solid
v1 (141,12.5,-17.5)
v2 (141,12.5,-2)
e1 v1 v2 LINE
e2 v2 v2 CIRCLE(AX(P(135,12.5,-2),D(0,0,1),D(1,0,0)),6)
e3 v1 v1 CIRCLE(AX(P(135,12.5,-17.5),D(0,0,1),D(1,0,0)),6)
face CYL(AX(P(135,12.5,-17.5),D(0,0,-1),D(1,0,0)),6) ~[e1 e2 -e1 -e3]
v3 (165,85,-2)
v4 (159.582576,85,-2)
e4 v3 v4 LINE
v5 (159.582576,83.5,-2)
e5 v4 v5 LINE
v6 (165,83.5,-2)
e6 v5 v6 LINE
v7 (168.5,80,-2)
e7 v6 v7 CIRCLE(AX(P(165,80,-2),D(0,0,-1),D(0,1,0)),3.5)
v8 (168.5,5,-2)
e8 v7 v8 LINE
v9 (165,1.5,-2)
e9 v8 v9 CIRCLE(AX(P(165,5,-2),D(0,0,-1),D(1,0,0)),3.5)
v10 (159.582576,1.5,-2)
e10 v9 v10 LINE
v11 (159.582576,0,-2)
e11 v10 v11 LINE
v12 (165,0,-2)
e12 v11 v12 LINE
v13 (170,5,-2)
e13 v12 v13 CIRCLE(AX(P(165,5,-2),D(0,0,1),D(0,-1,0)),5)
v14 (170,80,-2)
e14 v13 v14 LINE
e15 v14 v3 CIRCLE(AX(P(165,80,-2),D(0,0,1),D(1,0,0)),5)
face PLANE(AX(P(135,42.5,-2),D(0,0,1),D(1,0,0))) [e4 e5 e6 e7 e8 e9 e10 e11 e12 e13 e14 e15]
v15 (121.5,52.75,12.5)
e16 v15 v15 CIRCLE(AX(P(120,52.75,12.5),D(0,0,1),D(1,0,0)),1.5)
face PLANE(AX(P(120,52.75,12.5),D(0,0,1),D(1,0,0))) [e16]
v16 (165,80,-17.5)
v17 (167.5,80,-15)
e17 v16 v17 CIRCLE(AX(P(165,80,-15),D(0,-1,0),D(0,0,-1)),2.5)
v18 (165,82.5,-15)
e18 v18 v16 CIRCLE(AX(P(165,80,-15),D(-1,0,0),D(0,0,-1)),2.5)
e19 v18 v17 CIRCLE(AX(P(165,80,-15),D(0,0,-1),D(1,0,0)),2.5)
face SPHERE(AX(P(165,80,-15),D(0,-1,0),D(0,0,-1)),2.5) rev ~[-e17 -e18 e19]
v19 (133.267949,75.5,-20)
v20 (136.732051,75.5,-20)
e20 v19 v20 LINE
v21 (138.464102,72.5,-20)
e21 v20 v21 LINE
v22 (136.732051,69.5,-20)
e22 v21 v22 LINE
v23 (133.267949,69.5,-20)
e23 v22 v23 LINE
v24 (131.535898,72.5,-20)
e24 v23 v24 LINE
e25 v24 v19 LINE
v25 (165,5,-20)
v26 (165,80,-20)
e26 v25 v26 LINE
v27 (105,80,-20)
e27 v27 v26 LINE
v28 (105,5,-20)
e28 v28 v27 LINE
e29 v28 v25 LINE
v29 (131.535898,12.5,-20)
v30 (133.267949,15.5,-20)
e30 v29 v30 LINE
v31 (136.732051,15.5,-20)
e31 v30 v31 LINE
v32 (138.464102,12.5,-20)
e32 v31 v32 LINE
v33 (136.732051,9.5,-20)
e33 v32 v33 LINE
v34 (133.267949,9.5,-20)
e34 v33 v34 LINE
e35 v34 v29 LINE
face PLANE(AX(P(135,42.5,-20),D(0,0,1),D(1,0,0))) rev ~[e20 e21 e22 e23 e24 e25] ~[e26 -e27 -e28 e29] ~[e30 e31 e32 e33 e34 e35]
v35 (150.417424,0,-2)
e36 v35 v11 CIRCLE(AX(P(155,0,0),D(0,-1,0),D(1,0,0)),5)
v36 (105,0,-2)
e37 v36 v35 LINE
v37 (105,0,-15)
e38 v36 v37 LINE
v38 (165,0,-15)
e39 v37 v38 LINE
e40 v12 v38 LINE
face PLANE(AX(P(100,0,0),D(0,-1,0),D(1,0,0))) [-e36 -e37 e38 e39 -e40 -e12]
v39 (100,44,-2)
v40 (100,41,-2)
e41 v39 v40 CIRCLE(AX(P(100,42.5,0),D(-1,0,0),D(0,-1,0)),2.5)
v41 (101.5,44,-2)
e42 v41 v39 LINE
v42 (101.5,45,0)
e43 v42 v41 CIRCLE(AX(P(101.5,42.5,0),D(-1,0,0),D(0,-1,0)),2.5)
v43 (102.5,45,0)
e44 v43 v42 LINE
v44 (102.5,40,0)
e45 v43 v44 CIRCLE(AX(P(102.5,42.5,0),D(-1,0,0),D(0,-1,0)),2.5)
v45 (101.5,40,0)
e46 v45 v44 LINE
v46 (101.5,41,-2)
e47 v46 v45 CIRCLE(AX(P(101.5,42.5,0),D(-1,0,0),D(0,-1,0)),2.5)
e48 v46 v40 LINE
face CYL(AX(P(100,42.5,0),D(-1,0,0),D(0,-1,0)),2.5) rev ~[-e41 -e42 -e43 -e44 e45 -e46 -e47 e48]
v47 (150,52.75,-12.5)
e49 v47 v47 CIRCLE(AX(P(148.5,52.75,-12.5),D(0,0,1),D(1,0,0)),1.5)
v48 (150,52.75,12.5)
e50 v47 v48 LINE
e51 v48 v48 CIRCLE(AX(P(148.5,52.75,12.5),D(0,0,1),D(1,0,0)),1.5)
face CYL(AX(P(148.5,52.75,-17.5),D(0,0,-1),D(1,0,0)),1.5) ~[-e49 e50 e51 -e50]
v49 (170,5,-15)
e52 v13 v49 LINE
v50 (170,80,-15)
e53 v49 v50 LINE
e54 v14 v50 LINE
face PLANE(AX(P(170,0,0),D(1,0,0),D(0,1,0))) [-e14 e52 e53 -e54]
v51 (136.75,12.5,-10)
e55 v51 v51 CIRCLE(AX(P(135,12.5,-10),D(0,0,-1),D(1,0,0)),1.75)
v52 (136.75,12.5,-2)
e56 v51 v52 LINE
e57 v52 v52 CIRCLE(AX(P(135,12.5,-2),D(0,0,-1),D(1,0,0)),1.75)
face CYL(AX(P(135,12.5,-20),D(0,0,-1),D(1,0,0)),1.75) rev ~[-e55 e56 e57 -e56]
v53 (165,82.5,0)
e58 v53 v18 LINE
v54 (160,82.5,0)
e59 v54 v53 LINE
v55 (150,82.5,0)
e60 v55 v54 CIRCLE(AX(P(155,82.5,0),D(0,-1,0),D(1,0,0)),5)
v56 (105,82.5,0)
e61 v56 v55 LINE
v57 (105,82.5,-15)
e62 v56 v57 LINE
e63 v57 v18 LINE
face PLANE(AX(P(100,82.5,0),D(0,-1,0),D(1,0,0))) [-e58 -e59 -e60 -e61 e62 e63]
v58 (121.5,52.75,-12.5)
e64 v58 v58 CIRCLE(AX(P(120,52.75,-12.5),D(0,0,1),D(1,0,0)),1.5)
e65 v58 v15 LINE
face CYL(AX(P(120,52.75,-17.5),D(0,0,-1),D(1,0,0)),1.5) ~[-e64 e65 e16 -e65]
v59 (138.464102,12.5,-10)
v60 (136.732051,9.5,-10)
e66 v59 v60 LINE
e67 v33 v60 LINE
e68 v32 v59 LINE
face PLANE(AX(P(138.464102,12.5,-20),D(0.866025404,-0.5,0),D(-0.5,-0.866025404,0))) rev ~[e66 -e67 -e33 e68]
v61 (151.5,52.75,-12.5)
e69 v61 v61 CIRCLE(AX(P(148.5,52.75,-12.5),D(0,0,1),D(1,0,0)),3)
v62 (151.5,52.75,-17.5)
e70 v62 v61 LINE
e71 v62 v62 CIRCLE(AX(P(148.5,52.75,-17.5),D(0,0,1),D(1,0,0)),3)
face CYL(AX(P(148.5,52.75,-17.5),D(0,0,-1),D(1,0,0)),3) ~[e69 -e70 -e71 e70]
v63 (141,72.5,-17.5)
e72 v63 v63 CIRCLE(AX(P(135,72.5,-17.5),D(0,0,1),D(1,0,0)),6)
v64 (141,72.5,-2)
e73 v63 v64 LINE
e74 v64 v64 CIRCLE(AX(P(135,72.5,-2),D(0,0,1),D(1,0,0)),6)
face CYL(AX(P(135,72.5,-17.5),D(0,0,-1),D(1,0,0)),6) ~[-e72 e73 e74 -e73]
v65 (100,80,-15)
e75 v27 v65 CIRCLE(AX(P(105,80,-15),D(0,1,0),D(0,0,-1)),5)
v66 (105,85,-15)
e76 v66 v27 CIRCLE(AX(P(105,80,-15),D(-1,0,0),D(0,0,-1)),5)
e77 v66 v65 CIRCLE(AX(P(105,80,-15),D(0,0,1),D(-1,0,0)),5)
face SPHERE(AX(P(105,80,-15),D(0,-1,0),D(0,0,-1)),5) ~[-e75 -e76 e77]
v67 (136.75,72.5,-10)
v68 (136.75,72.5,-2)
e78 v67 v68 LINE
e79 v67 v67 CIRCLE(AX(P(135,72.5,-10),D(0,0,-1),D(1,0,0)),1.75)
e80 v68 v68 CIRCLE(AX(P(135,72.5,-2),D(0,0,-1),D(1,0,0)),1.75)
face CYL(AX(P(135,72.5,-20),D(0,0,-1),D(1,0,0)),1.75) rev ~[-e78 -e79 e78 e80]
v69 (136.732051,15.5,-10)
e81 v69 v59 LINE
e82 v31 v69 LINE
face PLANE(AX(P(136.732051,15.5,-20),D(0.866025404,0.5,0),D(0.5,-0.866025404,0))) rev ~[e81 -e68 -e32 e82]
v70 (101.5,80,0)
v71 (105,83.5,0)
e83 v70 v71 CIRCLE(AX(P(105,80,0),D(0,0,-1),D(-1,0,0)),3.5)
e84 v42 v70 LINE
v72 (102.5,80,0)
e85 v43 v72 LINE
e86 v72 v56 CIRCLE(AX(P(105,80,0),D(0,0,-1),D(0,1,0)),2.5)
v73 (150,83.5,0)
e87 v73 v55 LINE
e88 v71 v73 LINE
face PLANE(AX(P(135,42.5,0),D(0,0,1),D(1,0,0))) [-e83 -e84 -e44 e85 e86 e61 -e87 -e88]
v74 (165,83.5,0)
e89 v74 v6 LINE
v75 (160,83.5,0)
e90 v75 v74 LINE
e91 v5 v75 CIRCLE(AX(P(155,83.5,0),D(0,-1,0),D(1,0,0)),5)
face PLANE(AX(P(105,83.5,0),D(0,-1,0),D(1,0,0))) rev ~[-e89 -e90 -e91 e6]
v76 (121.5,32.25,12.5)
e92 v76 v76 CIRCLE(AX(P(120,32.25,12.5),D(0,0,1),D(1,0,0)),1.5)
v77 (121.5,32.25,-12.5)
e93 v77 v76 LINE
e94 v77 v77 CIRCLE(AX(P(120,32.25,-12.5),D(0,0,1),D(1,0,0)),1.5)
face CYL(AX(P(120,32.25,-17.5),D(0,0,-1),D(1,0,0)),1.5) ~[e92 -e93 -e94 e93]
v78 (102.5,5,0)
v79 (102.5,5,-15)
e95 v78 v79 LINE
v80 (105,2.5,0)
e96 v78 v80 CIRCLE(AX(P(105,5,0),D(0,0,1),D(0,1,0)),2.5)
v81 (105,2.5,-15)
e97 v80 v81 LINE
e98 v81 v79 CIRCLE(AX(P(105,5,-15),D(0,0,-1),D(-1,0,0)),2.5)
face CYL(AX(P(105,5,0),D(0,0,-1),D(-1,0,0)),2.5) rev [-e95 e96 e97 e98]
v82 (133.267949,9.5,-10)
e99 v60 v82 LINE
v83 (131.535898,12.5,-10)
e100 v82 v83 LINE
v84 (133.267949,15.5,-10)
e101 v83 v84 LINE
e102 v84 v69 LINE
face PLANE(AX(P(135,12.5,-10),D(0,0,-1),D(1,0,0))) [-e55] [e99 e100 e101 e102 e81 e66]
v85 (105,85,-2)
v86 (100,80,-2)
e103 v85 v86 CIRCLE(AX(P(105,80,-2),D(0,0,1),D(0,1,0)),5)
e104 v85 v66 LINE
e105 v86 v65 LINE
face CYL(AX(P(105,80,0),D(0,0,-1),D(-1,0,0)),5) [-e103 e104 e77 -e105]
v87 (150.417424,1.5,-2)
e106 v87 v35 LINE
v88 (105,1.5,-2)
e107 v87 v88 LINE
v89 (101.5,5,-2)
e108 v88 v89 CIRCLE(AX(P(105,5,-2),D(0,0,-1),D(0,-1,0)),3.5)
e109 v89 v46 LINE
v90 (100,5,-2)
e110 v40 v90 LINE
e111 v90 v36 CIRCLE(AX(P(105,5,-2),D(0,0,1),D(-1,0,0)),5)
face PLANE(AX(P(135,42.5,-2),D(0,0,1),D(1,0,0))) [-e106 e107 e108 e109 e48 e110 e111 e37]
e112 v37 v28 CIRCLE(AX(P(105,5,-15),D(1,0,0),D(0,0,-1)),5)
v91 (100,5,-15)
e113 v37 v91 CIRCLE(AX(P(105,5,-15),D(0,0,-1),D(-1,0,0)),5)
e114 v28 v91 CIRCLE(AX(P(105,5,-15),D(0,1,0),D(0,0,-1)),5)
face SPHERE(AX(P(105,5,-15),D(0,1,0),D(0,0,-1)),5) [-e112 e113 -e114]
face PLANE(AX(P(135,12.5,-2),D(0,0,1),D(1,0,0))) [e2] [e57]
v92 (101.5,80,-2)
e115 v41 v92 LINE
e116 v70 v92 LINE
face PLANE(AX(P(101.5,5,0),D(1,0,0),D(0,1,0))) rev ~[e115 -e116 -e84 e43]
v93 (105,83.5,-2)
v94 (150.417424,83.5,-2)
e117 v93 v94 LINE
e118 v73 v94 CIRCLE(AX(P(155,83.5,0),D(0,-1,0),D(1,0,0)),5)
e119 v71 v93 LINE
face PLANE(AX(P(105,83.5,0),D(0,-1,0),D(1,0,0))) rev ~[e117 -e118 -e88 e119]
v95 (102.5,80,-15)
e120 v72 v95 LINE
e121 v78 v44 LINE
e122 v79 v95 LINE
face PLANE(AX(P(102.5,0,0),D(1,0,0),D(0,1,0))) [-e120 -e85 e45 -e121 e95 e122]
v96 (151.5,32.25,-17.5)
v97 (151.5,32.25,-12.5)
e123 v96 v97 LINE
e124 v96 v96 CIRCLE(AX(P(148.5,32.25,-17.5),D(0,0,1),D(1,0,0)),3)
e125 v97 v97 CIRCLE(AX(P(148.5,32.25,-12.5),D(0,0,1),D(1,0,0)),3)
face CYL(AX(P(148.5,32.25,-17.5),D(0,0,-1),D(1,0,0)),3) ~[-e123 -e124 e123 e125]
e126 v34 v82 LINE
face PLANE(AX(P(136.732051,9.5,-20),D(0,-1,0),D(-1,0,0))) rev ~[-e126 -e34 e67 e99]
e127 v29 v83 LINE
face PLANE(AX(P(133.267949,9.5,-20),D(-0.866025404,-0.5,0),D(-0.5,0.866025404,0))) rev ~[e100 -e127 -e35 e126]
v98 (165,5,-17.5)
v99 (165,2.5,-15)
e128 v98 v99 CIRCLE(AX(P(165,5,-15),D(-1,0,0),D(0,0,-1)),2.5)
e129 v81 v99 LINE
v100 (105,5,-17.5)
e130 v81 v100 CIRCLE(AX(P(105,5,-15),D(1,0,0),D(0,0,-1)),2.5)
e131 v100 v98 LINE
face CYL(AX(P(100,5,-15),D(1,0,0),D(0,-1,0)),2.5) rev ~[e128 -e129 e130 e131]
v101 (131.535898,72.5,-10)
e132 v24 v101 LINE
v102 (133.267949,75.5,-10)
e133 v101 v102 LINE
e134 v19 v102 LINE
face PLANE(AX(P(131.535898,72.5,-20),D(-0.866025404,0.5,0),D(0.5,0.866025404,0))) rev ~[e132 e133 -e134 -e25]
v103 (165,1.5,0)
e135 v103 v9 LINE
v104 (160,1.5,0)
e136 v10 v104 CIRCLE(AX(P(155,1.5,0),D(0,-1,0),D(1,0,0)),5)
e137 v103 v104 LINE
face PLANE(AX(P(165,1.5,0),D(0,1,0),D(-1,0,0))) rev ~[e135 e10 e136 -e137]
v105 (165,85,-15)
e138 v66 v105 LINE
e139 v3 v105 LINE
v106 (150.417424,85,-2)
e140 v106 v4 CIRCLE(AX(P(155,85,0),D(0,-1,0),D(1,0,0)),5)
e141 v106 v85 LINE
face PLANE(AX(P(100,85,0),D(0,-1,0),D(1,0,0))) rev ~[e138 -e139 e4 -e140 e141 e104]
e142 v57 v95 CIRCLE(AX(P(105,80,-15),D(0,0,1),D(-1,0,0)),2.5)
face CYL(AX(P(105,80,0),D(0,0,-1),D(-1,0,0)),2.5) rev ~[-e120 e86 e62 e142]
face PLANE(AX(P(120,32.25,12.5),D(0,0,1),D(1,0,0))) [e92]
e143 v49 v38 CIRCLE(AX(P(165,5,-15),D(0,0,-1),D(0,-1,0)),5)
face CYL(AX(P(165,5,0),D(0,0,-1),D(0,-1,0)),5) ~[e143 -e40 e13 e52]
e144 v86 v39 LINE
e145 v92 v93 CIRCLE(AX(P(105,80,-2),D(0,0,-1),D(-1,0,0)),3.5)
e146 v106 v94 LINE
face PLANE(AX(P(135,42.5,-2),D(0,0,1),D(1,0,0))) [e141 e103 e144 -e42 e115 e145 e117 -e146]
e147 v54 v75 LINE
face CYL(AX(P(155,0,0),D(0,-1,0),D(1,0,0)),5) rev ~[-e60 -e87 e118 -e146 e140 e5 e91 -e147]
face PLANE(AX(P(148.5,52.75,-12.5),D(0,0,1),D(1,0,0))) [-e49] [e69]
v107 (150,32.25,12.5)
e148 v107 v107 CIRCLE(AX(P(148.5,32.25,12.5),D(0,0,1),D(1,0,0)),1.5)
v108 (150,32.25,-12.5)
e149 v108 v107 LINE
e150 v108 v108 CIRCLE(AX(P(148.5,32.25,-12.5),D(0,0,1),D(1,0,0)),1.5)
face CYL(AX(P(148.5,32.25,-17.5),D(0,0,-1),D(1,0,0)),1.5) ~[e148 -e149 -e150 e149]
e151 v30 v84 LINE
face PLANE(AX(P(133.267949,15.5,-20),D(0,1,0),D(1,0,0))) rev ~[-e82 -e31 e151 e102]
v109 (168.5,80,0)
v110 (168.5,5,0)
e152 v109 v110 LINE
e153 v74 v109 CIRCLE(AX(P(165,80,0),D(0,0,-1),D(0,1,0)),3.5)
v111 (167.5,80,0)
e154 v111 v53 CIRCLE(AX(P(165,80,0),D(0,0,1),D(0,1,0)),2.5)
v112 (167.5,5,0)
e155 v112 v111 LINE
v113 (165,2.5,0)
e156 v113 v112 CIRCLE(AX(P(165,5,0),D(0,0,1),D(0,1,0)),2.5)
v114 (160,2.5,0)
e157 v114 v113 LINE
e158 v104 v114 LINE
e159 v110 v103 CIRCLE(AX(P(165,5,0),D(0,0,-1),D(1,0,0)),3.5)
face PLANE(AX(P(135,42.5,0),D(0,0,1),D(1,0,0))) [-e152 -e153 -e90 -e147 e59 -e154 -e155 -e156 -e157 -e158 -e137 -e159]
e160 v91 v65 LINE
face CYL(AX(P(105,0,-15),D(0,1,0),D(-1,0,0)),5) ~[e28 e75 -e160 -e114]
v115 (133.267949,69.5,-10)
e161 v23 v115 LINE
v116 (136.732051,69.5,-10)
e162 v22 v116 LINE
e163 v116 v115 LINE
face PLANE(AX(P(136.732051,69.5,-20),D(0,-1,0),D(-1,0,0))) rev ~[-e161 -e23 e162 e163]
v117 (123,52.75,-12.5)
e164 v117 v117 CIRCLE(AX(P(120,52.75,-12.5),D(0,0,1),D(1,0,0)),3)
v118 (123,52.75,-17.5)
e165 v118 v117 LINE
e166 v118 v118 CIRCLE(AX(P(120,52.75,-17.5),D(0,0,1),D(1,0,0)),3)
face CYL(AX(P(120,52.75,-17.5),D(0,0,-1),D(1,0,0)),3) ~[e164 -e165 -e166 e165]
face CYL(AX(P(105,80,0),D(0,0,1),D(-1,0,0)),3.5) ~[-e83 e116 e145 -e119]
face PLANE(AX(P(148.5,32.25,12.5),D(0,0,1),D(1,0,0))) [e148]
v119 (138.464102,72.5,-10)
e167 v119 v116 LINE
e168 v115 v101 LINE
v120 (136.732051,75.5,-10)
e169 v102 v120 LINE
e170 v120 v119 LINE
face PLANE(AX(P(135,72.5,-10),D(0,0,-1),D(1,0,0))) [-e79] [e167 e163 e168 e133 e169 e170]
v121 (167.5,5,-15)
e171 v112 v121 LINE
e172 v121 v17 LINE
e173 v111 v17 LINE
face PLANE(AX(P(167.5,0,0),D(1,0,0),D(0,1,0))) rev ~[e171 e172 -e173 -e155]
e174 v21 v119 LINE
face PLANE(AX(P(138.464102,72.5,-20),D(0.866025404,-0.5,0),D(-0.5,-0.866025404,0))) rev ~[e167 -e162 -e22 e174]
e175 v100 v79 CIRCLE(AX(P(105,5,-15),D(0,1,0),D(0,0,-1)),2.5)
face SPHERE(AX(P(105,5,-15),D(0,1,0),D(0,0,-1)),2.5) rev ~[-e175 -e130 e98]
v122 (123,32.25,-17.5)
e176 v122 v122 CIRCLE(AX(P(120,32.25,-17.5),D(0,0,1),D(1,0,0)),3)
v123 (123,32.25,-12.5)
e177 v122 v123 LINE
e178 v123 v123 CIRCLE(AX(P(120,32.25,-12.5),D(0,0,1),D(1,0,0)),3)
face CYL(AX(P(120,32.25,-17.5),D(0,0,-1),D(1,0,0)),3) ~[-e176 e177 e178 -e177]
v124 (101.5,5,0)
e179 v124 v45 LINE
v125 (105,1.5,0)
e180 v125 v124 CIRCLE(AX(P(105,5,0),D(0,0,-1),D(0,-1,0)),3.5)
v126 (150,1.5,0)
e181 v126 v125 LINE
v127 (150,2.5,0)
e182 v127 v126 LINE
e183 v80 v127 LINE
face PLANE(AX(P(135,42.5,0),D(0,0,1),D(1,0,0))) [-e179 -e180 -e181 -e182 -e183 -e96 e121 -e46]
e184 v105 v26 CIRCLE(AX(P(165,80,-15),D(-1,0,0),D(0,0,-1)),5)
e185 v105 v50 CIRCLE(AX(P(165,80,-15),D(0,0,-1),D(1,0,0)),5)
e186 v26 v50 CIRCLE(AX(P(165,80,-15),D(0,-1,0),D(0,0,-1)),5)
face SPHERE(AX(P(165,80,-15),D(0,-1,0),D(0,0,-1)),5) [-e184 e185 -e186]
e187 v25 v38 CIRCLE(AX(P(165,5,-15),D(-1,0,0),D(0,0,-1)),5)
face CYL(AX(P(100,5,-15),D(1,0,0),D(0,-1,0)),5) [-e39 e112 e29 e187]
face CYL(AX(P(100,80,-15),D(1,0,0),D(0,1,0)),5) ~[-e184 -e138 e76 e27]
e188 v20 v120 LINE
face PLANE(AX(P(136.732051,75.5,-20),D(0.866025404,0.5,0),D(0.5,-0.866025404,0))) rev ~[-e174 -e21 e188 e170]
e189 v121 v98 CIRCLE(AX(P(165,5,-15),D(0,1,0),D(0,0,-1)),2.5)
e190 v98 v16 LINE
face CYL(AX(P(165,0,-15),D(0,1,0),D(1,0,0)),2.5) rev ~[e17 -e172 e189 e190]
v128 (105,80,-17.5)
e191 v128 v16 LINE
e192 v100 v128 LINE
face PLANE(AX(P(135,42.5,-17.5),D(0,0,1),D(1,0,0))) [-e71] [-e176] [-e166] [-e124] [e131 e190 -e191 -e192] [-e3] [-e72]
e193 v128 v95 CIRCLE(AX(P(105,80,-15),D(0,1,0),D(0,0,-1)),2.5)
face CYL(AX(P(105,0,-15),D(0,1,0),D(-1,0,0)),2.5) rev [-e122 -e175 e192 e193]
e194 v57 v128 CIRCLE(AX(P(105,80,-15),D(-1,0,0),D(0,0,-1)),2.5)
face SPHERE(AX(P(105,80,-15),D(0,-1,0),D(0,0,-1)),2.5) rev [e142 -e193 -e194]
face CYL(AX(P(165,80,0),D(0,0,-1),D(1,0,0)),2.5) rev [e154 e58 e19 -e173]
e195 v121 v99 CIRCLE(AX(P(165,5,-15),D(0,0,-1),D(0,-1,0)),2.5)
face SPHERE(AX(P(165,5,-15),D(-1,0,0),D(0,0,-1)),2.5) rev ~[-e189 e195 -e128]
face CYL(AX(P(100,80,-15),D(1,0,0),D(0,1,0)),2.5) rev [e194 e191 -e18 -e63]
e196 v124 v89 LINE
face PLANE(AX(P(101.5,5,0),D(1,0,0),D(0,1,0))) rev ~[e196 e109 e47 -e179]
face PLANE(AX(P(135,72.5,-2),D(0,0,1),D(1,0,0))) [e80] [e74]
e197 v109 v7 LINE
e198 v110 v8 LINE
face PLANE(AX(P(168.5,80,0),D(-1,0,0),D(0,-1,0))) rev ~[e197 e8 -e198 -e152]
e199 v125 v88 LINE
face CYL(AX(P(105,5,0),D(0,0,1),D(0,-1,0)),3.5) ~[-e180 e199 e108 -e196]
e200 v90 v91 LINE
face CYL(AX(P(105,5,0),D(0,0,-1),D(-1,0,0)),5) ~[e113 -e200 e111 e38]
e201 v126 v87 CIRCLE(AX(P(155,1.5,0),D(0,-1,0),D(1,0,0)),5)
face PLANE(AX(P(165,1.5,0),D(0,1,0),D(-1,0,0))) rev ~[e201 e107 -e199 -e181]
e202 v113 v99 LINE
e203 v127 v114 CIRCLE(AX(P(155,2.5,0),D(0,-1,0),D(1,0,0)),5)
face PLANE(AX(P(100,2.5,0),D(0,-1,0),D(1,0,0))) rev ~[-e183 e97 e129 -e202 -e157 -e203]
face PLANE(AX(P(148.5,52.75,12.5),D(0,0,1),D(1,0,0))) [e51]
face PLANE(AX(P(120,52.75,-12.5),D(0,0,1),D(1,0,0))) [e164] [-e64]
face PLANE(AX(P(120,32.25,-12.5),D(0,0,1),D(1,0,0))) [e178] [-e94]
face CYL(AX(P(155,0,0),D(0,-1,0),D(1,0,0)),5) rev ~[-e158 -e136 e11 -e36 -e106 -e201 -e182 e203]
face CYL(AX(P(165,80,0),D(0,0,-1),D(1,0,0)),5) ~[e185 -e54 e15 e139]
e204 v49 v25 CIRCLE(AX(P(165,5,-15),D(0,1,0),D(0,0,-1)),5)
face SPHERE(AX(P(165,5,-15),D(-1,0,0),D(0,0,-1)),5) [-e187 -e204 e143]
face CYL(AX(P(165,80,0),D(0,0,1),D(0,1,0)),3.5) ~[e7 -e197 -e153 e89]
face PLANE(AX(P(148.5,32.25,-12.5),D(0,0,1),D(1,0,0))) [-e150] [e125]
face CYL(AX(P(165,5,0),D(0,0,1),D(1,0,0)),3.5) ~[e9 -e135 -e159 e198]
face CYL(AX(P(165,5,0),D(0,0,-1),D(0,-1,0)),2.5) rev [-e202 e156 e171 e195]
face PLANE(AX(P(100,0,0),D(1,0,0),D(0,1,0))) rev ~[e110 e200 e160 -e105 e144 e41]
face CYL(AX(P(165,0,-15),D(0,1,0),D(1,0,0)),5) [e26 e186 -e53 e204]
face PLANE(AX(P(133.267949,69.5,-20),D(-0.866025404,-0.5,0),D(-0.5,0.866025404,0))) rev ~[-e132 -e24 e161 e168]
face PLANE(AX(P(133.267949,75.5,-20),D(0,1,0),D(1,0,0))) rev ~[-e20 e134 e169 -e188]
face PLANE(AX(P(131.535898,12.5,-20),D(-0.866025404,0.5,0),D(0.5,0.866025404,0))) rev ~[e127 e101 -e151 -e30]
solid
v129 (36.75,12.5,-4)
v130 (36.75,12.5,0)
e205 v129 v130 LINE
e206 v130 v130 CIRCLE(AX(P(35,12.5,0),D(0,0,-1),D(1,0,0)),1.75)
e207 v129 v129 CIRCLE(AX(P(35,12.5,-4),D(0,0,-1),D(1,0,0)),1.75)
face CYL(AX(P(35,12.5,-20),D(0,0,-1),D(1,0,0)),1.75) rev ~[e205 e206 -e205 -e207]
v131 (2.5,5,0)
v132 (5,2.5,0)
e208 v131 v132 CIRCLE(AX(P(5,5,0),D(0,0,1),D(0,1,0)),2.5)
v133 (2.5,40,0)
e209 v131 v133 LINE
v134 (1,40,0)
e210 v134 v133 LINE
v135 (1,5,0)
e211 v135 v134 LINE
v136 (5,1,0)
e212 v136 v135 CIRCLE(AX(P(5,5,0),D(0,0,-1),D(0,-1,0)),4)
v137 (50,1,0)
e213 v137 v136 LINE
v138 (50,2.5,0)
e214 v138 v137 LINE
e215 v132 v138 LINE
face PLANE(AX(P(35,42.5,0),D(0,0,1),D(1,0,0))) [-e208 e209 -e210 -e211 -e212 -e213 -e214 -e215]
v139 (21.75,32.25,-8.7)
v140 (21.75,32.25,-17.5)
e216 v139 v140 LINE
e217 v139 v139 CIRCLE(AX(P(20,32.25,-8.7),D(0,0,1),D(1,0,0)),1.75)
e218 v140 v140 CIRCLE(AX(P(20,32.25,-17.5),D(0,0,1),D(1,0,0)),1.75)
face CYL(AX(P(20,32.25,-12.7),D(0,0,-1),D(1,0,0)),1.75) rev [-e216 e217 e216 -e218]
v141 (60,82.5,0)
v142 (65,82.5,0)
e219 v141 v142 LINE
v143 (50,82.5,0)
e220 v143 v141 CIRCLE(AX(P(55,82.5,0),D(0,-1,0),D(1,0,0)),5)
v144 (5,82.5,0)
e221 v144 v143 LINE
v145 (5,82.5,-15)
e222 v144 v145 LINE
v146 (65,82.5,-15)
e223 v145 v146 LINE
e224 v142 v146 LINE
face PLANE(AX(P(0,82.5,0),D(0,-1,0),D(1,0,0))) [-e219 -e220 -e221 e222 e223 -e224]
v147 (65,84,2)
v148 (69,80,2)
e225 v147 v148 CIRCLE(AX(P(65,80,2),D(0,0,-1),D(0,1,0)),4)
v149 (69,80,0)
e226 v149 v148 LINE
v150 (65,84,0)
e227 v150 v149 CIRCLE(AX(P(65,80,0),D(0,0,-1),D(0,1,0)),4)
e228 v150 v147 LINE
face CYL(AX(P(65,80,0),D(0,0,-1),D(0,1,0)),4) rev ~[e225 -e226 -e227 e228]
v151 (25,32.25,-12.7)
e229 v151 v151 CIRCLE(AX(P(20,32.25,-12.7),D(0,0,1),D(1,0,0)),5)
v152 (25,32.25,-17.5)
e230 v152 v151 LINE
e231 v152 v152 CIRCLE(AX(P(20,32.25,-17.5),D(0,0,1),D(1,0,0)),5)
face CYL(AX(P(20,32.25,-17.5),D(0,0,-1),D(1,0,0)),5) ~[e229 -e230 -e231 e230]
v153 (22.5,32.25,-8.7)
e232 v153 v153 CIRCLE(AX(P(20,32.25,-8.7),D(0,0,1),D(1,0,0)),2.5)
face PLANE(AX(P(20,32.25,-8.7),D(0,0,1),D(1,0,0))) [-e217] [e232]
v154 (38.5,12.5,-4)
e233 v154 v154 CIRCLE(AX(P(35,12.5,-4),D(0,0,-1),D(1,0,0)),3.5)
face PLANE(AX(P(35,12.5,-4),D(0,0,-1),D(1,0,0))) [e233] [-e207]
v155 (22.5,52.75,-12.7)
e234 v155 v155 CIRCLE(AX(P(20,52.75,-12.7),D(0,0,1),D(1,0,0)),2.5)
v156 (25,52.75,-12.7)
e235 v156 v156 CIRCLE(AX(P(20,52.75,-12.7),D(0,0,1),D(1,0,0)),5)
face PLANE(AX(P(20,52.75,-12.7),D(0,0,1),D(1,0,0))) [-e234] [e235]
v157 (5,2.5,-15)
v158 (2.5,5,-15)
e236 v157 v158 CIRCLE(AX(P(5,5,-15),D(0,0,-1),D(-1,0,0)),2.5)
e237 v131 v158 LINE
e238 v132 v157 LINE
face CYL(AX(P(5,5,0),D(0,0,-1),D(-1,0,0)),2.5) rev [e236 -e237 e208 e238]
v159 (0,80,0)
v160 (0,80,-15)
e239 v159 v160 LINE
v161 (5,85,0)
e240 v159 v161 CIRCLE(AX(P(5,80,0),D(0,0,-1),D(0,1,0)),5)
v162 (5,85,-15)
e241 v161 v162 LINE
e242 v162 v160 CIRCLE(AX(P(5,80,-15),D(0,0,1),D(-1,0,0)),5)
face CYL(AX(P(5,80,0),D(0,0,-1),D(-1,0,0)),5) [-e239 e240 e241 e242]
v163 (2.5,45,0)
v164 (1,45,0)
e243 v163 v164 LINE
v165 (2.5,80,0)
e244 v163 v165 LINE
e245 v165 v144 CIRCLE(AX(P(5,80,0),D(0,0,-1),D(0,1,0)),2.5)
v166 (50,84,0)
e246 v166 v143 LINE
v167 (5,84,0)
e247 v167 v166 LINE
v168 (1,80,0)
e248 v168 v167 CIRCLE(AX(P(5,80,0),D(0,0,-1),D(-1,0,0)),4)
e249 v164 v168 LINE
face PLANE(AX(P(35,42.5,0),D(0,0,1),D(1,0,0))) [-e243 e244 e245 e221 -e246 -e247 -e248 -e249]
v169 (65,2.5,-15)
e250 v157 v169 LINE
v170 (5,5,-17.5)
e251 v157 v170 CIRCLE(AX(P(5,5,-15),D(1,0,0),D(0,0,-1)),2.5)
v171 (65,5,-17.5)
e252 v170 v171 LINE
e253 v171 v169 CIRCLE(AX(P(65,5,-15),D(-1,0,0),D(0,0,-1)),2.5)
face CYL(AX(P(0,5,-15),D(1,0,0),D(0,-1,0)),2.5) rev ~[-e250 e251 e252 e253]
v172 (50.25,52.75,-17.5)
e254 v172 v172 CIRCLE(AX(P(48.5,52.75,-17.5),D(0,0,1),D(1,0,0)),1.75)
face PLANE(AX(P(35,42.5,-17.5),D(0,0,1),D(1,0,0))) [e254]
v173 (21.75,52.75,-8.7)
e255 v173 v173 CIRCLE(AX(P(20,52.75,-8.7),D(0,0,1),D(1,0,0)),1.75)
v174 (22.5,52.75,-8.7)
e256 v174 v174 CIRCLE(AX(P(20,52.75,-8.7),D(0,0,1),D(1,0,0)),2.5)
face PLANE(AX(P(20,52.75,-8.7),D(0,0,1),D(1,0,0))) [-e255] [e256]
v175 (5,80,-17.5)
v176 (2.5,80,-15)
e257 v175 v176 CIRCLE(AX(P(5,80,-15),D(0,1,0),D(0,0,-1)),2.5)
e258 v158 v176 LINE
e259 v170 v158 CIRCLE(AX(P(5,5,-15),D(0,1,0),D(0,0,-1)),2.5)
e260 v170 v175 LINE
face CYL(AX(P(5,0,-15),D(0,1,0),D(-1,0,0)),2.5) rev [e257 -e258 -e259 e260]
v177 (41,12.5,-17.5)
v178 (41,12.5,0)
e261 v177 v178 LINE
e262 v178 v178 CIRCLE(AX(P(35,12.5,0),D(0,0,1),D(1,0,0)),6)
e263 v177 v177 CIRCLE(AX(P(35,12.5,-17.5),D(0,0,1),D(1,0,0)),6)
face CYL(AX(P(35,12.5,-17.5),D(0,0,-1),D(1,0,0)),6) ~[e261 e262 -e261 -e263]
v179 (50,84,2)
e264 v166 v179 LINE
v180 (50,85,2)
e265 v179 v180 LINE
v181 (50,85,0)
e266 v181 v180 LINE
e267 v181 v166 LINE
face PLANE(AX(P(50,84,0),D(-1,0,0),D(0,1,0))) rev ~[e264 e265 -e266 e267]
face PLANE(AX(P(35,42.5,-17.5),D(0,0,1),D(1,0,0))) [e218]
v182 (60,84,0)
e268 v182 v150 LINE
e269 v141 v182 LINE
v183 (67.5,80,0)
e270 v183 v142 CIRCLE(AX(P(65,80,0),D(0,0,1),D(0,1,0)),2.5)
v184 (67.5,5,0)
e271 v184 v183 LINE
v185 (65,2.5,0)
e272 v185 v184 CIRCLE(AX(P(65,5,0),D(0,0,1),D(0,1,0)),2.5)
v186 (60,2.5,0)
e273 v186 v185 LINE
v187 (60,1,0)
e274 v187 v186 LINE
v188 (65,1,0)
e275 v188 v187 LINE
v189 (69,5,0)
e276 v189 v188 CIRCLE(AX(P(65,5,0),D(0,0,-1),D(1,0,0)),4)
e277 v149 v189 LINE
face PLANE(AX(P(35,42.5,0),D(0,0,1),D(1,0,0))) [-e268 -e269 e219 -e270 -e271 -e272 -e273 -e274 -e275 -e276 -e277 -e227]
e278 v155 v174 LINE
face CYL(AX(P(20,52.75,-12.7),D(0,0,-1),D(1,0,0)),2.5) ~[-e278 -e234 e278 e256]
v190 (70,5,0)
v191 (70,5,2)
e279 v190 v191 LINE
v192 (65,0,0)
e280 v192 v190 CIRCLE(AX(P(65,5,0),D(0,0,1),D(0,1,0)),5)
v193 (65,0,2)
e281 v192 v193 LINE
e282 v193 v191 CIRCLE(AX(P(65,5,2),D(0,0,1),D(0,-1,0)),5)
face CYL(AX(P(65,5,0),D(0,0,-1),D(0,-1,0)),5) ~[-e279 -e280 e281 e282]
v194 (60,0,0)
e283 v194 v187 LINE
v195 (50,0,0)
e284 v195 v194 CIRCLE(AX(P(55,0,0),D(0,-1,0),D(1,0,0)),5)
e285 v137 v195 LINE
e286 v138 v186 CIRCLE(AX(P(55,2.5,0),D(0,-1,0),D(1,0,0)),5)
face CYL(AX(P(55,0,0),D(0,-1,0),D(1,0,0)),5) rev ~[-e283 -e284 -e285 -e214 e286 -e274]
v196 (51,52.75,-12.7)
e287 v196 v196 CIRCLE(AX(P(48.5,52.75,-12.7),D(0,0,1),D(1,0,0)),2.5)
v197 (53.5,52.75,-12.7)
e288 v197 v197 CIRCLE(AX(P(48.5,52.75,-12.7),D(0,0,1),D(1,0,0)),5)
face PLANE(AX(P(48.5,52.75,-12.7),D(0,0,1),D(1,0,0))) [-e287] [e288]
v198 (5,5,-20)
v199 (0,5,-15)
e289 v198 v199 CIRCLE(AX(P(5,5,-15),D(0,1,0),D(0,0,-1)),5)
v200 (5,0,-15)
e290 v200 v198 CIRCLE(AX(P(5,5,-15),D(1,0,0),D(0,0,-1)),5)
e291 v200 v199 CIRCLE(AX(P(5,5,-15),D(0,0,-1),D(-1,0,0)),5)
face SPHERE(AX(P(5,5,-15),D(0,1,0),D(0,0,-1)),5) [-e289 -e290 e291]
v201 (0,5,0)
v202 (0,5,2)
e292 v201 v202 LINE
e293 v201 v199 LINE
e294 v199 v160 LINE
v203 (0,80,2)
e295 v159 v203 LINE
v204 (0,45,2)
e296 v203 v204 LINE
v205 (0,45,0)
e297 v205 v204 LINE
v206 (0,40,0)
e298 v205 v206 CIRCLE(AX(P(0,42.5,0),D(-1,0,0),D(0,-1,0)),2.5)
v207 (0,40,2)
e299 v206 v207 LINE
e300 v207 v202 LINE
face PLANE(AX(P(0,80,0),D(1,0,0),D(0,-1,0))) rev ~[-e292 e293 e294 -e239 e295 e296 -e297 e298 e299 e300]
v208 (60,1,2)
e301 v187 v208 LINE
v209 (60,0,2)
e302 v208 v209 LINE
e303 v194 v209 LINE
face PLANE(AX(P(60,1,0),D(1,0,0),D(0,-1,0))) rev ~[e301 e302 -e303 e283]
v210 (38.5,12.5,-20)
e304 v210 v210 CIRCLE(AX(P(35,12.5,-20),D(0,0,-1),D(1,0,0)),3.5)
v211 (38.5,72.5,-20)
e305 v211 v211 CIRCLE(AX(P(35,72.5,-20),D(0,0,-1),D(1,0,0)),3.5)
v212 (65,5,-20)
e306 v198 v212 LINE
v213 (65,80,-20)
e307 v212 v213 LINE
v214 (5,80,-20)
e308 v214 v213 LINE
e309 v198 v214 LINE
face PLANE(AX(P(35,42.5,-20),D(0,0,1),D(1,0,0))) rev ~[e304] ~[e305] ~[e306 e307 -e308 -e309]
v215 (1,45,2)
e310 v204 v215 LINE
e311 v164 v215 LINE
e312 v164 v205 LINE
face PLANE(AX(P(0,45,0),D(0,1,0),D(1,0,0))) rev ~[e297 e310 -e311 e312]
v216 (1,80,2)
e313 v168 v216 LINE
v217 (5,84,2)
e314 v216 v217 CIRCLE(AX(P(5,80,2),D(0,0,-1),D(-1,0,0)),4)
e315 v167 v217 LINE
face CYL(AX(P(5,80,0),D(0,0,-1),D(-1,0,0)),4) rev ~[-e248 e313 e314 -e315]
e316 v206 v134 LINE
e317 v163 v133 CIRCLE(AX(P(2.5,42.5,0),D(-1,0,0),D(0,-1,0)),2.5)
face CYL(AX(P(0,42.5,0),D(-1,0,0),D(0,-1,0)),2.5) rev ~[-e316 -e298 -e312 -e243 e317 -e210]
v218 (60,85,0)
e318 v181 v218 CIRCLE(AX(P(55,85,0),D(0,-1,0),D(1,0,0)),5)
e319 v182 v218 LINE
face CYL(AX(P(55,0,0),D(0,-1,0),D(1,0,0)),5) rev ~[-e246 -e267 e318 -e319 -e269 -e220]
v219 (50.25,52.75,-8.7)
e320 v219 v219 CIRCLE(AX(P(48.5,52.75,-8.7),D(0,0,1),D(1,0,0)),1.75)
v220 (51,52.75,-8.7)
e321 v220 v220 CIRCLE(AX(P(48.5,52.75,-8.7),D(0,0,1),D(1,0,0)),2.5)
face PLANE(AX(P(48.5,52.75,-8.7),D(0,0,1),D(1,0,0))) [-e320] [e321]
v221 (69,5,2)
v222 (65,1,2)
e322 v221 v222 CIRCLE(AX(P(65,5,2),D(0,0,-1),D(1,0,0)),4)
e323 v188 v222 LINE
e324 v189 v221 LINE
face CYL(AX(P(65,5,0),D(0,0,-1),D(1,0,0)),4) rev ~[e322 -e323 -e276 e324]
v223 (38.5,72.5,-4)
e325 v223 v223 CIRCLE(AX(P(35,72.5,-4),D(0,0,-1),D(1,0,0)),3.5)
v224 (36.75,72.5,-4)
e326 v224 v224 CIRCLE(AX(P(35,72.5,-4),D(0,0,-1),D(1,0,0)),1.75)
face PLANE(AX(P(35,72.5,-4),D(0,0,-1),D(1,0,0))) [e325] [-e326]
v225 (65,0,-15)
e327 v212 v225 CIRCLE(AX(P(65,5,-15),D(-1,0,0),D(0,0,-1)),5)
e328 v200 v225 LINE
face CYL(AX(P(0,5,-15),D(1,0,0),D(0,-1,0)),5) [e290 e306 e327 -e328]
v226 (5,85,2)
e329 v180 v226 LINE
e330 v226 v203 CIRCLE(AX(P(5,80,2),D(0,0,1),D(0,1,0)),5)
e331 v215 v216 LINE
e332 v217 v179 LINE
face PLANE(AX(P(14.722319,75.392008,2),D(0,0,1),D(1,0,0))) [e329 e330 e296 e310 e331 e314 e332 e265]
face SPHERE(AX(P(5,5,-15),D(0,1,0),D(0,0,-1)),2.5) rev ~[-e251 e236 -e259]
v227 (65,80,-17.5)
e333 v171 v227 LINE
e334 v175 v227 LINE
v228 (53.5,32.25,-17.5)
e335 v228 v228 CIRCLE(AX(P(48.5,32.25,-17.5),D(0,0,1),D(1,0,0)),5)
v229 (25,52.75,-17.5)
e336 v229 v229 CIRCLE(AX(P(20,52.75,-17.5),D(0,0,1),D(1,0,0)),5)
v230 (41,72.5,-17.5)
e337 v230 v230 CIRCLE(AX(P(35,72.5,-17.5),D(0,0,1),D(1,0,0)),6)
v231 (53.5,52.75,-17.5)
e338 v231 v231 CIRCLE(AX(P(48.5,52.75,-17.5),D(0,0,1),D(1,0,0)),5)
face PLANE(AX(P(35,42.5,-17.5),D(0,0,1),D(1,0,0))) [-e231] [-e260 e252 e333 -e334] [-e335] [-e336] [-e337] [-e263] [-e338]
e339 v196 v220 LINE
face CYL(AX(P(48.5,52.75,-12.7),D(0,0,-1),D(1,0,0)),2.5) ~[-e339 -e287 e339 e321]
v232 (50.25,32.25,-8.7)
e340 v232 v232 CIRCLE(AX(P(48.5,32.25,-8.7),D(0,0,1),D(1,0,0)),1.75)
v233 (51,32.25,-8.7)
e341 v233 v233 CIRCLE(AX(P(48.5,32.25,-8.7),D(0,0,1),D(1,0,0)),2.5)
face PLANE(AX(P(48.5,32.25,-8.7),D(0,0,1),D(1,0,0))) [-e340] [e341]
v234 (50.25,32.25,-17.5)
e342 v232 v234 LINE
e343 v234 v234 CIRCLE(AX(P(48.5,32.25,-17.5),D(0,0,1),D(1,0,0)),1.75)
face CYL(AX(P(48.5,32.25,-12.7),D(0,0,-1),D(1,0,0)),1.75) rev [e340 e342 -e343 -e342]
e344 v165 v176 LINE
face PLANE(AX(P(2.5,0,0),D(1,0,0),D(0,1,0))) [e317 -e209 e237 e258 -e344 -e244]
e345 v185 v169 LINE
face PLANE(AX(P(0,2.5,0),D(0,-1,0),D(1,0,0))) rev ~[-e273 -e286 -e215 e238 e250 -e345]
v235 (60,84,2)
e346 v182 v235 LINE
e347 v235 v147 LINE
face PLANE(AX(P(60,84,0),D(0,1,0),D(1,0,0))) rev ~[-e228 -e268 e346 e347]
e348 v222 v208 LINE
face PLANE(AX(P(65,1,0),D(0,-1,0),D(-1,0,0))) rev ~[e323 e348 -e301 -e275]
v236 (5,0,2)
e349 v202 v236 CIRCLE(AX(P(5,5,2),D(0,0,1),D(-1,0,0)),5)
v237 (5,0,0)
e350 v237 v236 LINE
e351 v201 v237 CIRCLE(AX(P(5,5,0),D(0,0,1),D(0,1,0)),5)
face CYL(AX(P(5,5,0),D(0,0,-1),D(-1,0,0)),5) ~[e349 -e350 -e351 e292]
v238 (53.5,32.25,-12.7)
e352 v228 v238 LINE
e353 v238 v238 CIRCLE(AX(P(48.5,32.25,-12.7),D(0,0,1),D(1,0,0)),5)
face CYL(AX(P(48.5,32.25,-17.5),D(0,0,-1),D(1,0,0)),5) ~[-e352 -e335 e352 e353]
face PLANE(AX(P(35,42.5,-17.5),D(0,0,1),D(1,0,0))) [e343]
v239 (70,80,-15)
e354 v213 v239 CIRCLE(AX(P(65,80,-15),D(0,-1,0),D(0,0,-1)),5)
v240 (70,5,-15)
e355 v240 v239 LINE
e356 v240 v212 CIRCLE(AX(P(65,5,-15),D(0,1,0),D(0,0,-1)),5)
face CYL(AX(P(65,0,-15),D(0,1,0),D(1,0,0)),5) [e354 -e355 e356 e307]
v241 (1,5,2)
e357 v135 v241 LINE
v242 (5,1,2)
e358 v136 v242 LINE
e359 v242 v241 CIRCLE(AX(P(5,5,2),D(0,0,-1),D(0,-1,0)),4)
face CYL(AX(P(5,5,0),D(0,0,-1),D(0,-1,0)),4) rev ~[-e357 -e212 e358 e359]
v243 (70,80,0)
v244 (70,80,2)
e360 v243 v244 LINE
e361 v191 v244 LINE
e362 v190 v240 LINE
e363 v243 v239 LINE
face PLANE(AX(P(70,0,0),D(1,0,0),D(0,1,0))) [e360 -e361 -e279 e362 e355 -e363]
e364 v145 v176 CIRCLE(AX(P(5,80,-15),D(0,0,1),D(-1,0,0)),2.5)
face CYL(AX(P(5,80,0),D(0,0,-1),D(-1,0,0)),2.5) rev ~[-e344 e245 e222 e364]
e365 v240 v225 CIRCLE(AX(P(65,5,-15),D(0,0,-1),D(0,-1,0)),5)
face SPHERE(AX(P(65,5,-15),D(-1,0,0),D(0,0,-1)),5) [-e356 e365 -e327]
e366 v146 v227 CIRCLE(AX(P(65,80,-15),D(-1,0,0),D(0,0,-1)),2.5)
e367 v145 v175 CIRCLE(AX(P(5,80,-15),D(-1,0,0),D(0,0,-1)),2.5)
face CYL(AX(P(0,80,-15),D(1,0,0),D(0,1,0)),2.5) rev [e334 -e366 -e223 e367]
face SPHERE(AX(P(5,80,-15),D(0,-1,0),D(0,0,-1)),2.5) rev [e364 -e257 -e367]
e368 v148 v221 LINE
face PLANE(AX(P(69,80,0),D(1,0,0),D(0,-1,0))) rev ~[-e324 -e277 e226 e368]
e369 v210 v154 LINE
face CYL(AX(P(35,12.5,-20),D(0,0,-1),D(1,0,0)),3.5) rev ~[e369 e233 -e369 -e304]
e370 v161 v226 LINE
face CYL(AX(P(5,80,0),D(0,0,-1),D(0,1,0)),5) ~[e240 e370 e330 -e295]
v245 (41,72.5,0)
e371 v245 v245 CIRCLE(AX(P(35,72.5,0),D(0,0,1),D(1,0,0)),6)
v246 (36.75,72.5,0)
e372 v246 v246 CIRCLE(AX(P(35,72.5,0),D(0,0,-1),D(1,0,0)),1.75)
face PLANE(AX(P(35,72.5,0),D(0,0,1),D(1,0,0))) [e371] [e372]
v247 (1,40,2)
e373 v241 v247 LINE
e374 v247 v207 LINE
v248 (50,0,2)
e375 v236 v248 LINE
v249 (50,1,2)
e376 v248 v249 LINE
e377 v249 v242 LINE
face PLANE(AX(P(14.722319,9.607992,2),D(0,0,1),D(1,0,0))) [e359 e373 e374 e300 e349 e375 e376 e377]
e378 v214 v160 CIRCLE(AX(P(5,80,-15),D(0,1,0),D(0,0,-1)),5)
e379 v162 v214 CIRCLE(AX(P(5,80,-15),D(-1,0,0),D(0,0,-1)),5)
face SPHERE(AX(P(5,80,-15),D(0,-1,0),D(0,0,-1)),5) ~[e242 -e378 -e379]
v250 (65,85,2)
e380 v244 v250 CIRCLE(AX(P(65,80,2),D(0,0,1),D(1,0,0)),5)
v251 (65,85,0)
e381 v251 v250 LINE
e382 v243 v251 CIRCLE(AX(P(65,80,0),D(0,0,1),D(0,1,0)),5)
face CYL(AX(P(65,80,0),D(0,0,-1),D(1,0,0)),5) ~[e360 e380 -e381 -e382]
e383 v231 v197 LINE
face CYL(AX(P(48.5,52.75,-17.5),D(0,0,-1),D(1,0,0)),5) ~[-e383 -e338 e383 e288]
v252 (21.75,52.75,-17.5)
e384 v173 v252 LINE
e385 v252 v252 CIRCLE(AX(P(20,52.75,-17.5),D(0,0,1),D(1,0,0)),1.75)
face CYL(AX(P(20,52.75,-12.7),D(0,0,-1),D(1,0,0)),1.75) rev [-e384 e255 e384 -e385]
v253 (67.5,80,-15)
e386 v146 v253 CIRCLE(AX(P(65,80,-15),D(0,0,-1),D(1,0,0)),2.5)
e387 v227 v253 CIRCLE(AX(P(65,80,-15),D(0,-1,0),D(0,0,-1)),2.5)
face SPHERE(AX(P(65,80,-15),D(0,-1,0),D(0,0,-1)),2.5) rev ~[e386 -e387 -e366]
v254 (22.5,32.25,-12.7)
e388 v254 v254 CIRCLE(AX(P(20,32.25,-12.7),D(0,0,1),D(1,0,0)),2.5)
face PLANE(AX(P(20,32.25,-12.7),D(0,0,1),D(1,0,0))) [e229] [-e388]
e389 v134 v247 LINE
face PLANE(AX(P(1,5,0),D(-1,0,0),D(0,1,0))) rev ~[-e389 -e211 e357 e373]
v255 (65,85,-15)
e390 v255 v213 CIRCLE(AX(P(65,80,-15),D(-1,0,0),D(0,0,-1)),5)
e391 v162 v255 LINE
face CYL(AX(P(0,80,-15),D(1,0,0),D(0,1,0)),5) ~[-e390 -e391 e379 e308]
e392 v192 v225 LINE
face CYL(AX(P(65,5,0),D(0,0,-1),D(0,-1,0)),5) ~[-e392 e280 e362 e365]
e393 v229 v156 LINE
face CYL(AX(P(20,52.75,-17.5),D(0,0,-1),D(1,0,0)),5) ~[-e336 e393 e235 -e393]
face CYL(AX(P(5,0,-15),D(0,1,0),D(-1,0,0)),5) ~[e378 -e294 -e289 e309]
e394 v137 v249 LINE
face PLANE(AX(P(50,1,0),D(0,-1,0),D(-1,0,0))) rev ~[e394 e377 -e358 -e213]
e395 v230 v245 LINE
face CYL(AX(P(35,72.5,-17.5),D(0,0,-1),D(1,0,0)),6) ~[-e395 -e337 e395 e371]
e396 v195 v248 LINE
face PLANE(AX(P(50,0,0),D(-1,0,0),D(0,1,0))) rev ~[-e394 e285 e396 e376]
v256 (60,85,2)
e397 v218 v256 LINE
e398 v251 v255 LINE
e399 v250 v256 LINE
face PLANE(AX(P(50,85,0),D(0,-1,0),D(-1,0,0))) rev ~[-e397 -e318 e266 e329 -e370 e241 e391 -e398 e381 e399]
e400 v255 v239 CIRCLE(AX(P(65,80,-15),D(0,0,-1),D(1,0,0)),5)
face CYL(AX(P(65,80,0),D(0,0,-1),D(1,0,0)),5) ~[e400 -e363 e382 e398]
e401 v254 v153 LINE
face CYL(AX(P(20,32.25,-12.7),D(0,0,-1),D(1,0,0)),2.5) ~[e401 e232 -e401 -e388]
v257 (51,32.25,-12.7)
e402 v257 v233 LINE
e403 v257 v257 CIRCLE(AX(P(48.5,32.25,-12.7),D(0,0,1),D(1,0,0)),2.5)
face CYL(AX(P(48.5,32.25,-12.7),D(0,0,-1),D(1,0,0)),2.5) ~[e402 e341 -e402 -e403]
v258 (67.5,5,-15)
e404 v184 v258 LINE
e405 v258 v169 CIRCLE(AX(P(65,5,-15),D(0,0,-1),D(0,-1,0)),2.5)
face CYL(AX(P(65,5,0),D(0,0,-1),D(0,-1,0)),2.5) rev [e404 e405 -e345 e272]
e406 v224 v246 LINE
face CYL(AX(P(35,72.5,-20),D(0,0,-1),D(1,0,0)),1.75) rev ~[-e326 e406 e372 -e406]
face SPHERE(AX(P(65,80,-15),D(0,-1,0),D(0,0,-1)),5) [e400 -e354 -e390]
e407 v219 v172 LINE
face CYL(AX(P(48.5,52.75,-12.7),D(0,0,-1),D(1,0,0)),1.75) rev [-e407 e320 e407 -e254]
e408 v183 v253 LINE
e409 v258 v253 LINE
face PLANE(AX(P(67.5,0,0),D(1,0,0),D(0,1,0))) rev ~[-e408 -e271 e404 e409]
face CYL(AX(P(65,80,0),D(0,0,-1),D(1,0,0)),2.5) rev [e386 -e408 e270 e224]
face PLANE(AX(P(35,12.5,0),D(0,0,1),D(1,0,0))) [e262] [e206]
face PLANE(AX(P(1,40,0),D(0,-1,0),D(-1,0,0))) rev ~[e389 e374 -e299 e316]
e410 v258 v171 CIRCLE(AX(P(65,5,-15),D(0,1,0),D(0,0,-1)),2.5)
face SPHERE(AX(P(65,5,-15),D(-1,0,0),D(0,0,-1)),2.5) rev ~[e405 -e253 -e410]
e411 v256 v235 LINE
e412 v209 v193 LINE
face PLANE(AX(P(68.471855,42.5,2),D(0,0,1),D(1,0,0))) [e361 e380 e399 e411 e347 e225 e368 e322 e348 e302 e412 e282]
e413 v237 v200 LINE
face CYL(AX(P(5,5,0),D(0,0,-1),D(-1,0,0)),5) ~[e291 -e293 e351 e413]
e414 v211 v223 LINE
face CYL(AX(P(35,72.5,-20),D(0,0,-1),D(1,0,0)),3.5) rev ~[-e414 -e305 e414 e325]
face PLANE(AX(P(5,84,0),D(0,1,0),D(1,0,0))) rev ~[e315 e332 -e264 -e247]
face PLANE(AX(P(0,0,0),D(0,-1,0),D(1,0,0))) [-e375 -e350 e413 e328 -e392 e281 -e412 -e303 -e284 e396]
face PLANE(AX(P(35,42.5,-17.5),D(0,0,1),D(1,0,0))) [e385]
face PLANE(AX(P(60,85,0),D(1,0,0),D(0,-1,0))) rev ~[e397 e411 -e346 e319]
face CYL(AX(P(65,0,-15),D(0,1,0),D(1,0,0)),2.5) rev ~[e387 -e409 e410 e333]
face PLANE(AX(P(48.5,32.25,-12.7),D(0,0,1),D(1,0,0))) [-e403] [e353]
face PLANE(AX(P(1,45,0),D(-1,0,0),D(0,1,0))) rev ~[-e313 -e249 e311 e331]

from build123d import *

# Parameters (mm, degrees)
F0_W      = 70
F0_H      = 85
F1_DEPTH  = 20
F2_R      = 5
F3_T      = -2.5
F4_R      = 2.5
F5_DEPTH  = 2.5
F6_R      = 5
F7_DEPTH  = 85.001
F11_R     = 5
F11_R_2   = 1.75
F12_DEPTH = 4.8
F13_R     = 2.5
F13_R_2   = 1.75
F14_DEPTH = 4
F15_R     = 1.5
F16_DEPTH = 30
F17_R     = 3
F17_R_2   = 1.5
F18_DEPTH = 5
F20_DEPTH = 2
F22_DEPTH = 2
F23_R     = 6
F24_DEPTH = 17.5
F25_R     = 6
F26_DEPTH = 15.5
F27_R     = 3.5
F28_DEPTH = 16
F29_R     = 1.75
F30_DEPTH = 32.501
F32_DEPTH = 10
F33_R     = 1.75
F34_DEPTH = 32.501


with BuildPart() as f1:
    # F0 (on Top) → F1 (new body)
    with BuildSketch(Plane.XY):
        with Locations((35, 42.5)):
            Rectangle(F0_W, F0_H)
    extrude(amount=-F1_DEPTH)

    # F2
    f2_edges = [f1.edges().sort_by_distance(p)[0] for p in [
        (0, 42.5, -20),
        (35, 0, -20),
        (70, 42.5, -20),
        (35, 85, -20),
        (70, 0, -10),
        (0, 0, -10),
        (0, 85, -10),
        (70, 85, -10),
    ]]
    fillet(f2_edges, radius=F2_R)

    # F3
    f3_openings = [f1.faces().sort_by_distance(p)[0] for p in [
        (35, 42.5, 0),
    ]]
    offset(amount=F3_T, openings=f3_openings)

    # F4 (on face) → F5 (cut, through all)
    with BuildSketch(Plane(origin=(0, 0, 0), x_dir=(0, -1, 0), z_dir=(-1, 0, 0))):
        with Locations((-42.5, 0)):
            Circle(F4_R)
    extrude(amount=-F5_DEPTH, mode=Mode.SUBTRACT)

    # F6 (on face) → F7 (cut, through all)
    with BuildSketch(Plane.XZ):
        with Locations((55, 0)):
            Circle(F6_R)
    extrude(amount=-F7_DEPTH, mode=Mode.SUBTRACT)


with BuildPart() as f9_1:
    # F9: copy of F1
    add(f1.part.moved(Location((100, 0, 0))))

    # F15 (on face) → F16 (join)
    with BuildSketch(Plane.XY.offset(-17.5)):
        with Locations((120, 52.75)):
            Circle(F15_R)
        with Locations((148.5, 52.75)):
            Circle(F15_R)
        with Locations((148.5, 32.25)):
            Circle(F15_R)
        with Locations((120, 32.25)):
            Circle(F15_R)
    extrude(amount=F16_DEPTH)

    # F17 (on face) → F18 (join)
    with BuildSketch(Plane.XY.offset(-17.5)):
        with Locations((148.5, 52.75)):
            Circle(F17_R)
        with Locations((148.5, 52.75)):
            Circle(F17_R_2, mode=Mode.SUBTRACT)
        with Locations((148.5, 32.25)):
            Circle(F17_R)
        with Locations((148.5, 32.25)):
            Circle(F17_R_2, mode=Mode.SUBTRACT)
        with Locations((120, 32.25)):
            Circle(F17_R)
        with Locations((120, 32.25)):
            Circle(F17_R_2, mode=Mode.SUBTRACT)
        with Locations((120, 52.75)):
            Circle(F17_R)
        with Locations((120, 52.75)):
            Circle(F17_R_2, mode=Mode.SUBTRACT)
    extrude(amount=F18_DEPTH)

    # F21 (on face) → F22 (cut)
    with BuildSketch(Plane.XY):
        with BuildLine():
            Line((100, 80), (100, 45))
            Line((100, 45), (100, 40))
            Line((100, 40), (100, 5))
            ThreePointArc((100, 5), (101.4644660941, 1.4644660941), (105, 0))
            Line((105, 0), (150, 0))
            Line((150, 0), (160, 0))
            Line((160, 0), (165, 0))
            ThreePointArc((165, 0), (168.5355339059, 1.4644660941), (170, 5))
            Line((170, 5), (170, 80))
            ThreePointArc((170, 80), (168.5355339059, 83.5355339059), (165, 85))
            Line((165, 85), (160, 85))
            Line((160, 85), (150, 85))
            Line((150, 85), (105, 85))
            ThreePointArc((105, 85), (101.4644660941, 83.5355339059), (100, 80))
        make_face()
        with BuildLine():
            Line((101.5, 40), (101.5, 45))
            Line((101.5, 45), (101.5, 80))
            ThreePointArc((101.5, 80), (102.5251262658, 82.4748737342), (105, 83.5))
            Line((105, 83.5), (150, 83.5))
            Line((150, 83.5), (160, 83.5))
            Line((160, 83.5), (165, 83.5))
            ThreePointArc((165, 83.5), (167.4748737342, 82.4748737342), (168.5, 80))
            Line((168.5, 80), (168.5, 5))
            ThreePointArc((168.5, 5), (167.4748737342, 2.5251262658), (165, 1.5))
            Line((165, 1.5), (160, 1.5))
            Line((160, 1.5), (150, 1.5))
            Line((150, 1.5), (105, 1.5))
            ThreePointArc((105, 1.5), (102.5251262658, 2.5251262658), (101.5, 5))
            Line((101.5, 5), (101.5, 40))
        make_face(mode=Mode.SUBTRACT)
    extrude(amount=-F22_DEPTH, mode=Mode.SUBTRACT)

    # F25 (on face) → F26 (join, through all)
    with BuildSketch(Plane.XY.offset(-17.5)):
        with Locations((135, 72.5)):
            Circle(F25_R)
        with Locations((135, 12.5)):
            Circle(F25_R)
    extrude(amount=F26_DEPTH)

    # F31 (on face) → F32 (cut)
    with BuildSketch(Plane(origin=(0, 0, -20), x_dir=(1, 0, 0), z_dir=(0, 0, -1))):
        Polygon((133.2679491924, -15.5), (136.7320508076, -15.5), (138.4641016151, -12.5), (136.7320508076, -9.5), (133.2679491924, -9.5), (131.5358983849, -12.5), align=None)
        Polygon((133.2679491924, -75.5), (136.7320508076, -75.5), (138.4641016151, -72.5), (136.7320508076, -69.5), (133.2679491924, -69.5), (131.5358983849, -72.5), align=None)
    extrude(amount=-F32_DEPTH, mode=Mode.SUBTRACT)

    # F33 (on face) → F34 (cut, through all)
    with BuildSketch(Plane(origin=(0, 0, -20), x_dir=(1, 0, 0), z_dir=(0, 0, -1))):
        with Locations((135, -12.5)):
            Circle(F33_R)
        with Locations((135, -72.5)):
            Circle(F33_R)
    extrude(amount=-F34_DEPTH, mode=Mode.SUBTRACT)


with BuildPart() as f1_1:
    add(f1.part)

    # F11 (on face) → F12 (join)
    with BuildSketch(Plane.XY.offset(-17.5)):
        with Locations((20, 52.75)):
            Circle(F11_R)
        with Locations((20, 52.75)):
            Circle(F11_R_2, mode=Mode.SUBTRACT)
        with Locations((48.5, 52.75)):
            Circle(F11_R)
        with Locations((48.5, 52.75)):
            Circle(F11_R_2, mode=Mode.SUBTRACT)
        with Locations((48.5, 32.25)):
            Circle(F11_R)
        with Locations((48.5, 32.25)):
            Circle(F11_R_2, mode=Mode.SUBTRACT)
        with Locations((20, 32.25)):
            Circle(F11_R)
        with Locations((20, 32.25)):
            Circle(F11_R_2, mode=Mode.SUBTRACT)
    extrude(amount=F12_DEPTH)

    # F13 (on face) → F14 (join)
    with BuildSketch(Plane.XY.offset(-12.7)):
        with Locations((20, 52.75)):
            Circle(F13_R)
        with Locations((20, 52.75)):
            Circle(F13_R_2, mode=Mode.SUBTRACT)
        with Locations((20, 32.25)):
            Circle(F13_R)
        with Locations((20, 32.25)):
            Circle(F13_R_2, mode=Mode.SUBTRACT)
        with Locations((48.5, 32.25)):
            Circle(F13_R)
        with Locations((48.5, 32.25)):
            Circle(F13_R_2, mode=Mode.SUBTRACT)
        with Locations((48.5, 52.75)):
            Circle(F13_R)
        with Locations((48.5, 52.75)):
            Circle(F13_R_2, mode=Mode.SUBTRACT)
    extrude(amount=F14_DEPTH)

    # F19 (on face) → F20 (join)
    with BuildSketch(Plane.XY):
        with BuildLine():
            Line((0, 45), (1, 45))
            Line((1, 45), (1, 80))
            ThreePointArc((1, 80), (2.1715728753, 82.8284271247), (5, 84))
            Line((5, 84), (50, 84))
            Line((50, 84), (50, 85))
            Line((50, 85), (5, 85))
            ThreePointArc((5, 85), (1.4644660941, 83.5355339059), (0, 80))
            Line((0, 80), (0, 45))
        make_face()
        with BuildLine():
            Line((60, 85), (60, 84))
            Line((60, 84), (65, 84))
            ThreePointArc((65, 84), (67.8284271247, 82.8284271247), (69, 80))
            Line((69, 80), (69, 5))
            ThreePointArc((69, 5), (67.8284271247, 2.1715728753), (65, 1))
            Line((65, 1), (60, 1))
            Line((60, 1), (60, 0))
            Line((60, 0), (65, 0))
            ThreePointArc((65, 0), (68.5355339059, 1.4644660941), (70, 5))
            Line((70, 5), (70, 80))
            ThreePointArc((70, 80), (68.5355339059, 83.5355339059), (65, 85))
            Line((65, 85), (60, 85))
        make_face()
        with BuildLine():
            Line((50, 1), (5, 1))
            ThreePointArc((5, 1), (2.1715728753, 2.1715728753), (1, 5))
            Line((1, 5), (1, 40))
            Line((1, 40), (0, 40))
            Line((0, 40), (0, 5))
            ThreePointArc((0, 5), (1.4644660941, 1.4644660941), (5, 0))
            Line((5, 0), (50, 0))
            Line((50, 0), (50, 1))
        make_face()
    extrude(amount=F20_DEPTH)

    # F23 (on face) → F24 (join, through all)
    with BuildSketch(Plane.XY.offset(-17.5)):
        with Locations((35, 72.5)):
            Circle(F23_R)
        with Locations((35, 12.5)):
            Circle(F23_R)
    extrude(amount=F24_DEPTH)

    # F27 (on face) → F28 (cut)
    with BuildSketch(Plane(origin=(0, 0, -20), x_dir=(1, 0, 0), z_dir=(0, 0, -1))):
        with Locations((35, -12.5)):
            Circle(F27_R)
        with Locations((35, -72.5)):
            Circle(F27_R)
    extrude(amount=-F28_DEPTH, mode=Mode.SUBTRACT)

    # F29 (on face) → F30 (cut, through all)
    with BuildSketch(Plane(origin=(0, 0, -20), x_dir=(1, 0, 0), z_dir=(0, 0, -1))):
        with Locations((35, -12.5)):
            Circle(F29_R)
        with Locations((35, -72.5)):
            Circle(F29_R)
    extrude(amount=-F30_DEPTH, mode=Mode.SUBTRACT)


solid = Compound([f9_1.part, f1_1.part])
